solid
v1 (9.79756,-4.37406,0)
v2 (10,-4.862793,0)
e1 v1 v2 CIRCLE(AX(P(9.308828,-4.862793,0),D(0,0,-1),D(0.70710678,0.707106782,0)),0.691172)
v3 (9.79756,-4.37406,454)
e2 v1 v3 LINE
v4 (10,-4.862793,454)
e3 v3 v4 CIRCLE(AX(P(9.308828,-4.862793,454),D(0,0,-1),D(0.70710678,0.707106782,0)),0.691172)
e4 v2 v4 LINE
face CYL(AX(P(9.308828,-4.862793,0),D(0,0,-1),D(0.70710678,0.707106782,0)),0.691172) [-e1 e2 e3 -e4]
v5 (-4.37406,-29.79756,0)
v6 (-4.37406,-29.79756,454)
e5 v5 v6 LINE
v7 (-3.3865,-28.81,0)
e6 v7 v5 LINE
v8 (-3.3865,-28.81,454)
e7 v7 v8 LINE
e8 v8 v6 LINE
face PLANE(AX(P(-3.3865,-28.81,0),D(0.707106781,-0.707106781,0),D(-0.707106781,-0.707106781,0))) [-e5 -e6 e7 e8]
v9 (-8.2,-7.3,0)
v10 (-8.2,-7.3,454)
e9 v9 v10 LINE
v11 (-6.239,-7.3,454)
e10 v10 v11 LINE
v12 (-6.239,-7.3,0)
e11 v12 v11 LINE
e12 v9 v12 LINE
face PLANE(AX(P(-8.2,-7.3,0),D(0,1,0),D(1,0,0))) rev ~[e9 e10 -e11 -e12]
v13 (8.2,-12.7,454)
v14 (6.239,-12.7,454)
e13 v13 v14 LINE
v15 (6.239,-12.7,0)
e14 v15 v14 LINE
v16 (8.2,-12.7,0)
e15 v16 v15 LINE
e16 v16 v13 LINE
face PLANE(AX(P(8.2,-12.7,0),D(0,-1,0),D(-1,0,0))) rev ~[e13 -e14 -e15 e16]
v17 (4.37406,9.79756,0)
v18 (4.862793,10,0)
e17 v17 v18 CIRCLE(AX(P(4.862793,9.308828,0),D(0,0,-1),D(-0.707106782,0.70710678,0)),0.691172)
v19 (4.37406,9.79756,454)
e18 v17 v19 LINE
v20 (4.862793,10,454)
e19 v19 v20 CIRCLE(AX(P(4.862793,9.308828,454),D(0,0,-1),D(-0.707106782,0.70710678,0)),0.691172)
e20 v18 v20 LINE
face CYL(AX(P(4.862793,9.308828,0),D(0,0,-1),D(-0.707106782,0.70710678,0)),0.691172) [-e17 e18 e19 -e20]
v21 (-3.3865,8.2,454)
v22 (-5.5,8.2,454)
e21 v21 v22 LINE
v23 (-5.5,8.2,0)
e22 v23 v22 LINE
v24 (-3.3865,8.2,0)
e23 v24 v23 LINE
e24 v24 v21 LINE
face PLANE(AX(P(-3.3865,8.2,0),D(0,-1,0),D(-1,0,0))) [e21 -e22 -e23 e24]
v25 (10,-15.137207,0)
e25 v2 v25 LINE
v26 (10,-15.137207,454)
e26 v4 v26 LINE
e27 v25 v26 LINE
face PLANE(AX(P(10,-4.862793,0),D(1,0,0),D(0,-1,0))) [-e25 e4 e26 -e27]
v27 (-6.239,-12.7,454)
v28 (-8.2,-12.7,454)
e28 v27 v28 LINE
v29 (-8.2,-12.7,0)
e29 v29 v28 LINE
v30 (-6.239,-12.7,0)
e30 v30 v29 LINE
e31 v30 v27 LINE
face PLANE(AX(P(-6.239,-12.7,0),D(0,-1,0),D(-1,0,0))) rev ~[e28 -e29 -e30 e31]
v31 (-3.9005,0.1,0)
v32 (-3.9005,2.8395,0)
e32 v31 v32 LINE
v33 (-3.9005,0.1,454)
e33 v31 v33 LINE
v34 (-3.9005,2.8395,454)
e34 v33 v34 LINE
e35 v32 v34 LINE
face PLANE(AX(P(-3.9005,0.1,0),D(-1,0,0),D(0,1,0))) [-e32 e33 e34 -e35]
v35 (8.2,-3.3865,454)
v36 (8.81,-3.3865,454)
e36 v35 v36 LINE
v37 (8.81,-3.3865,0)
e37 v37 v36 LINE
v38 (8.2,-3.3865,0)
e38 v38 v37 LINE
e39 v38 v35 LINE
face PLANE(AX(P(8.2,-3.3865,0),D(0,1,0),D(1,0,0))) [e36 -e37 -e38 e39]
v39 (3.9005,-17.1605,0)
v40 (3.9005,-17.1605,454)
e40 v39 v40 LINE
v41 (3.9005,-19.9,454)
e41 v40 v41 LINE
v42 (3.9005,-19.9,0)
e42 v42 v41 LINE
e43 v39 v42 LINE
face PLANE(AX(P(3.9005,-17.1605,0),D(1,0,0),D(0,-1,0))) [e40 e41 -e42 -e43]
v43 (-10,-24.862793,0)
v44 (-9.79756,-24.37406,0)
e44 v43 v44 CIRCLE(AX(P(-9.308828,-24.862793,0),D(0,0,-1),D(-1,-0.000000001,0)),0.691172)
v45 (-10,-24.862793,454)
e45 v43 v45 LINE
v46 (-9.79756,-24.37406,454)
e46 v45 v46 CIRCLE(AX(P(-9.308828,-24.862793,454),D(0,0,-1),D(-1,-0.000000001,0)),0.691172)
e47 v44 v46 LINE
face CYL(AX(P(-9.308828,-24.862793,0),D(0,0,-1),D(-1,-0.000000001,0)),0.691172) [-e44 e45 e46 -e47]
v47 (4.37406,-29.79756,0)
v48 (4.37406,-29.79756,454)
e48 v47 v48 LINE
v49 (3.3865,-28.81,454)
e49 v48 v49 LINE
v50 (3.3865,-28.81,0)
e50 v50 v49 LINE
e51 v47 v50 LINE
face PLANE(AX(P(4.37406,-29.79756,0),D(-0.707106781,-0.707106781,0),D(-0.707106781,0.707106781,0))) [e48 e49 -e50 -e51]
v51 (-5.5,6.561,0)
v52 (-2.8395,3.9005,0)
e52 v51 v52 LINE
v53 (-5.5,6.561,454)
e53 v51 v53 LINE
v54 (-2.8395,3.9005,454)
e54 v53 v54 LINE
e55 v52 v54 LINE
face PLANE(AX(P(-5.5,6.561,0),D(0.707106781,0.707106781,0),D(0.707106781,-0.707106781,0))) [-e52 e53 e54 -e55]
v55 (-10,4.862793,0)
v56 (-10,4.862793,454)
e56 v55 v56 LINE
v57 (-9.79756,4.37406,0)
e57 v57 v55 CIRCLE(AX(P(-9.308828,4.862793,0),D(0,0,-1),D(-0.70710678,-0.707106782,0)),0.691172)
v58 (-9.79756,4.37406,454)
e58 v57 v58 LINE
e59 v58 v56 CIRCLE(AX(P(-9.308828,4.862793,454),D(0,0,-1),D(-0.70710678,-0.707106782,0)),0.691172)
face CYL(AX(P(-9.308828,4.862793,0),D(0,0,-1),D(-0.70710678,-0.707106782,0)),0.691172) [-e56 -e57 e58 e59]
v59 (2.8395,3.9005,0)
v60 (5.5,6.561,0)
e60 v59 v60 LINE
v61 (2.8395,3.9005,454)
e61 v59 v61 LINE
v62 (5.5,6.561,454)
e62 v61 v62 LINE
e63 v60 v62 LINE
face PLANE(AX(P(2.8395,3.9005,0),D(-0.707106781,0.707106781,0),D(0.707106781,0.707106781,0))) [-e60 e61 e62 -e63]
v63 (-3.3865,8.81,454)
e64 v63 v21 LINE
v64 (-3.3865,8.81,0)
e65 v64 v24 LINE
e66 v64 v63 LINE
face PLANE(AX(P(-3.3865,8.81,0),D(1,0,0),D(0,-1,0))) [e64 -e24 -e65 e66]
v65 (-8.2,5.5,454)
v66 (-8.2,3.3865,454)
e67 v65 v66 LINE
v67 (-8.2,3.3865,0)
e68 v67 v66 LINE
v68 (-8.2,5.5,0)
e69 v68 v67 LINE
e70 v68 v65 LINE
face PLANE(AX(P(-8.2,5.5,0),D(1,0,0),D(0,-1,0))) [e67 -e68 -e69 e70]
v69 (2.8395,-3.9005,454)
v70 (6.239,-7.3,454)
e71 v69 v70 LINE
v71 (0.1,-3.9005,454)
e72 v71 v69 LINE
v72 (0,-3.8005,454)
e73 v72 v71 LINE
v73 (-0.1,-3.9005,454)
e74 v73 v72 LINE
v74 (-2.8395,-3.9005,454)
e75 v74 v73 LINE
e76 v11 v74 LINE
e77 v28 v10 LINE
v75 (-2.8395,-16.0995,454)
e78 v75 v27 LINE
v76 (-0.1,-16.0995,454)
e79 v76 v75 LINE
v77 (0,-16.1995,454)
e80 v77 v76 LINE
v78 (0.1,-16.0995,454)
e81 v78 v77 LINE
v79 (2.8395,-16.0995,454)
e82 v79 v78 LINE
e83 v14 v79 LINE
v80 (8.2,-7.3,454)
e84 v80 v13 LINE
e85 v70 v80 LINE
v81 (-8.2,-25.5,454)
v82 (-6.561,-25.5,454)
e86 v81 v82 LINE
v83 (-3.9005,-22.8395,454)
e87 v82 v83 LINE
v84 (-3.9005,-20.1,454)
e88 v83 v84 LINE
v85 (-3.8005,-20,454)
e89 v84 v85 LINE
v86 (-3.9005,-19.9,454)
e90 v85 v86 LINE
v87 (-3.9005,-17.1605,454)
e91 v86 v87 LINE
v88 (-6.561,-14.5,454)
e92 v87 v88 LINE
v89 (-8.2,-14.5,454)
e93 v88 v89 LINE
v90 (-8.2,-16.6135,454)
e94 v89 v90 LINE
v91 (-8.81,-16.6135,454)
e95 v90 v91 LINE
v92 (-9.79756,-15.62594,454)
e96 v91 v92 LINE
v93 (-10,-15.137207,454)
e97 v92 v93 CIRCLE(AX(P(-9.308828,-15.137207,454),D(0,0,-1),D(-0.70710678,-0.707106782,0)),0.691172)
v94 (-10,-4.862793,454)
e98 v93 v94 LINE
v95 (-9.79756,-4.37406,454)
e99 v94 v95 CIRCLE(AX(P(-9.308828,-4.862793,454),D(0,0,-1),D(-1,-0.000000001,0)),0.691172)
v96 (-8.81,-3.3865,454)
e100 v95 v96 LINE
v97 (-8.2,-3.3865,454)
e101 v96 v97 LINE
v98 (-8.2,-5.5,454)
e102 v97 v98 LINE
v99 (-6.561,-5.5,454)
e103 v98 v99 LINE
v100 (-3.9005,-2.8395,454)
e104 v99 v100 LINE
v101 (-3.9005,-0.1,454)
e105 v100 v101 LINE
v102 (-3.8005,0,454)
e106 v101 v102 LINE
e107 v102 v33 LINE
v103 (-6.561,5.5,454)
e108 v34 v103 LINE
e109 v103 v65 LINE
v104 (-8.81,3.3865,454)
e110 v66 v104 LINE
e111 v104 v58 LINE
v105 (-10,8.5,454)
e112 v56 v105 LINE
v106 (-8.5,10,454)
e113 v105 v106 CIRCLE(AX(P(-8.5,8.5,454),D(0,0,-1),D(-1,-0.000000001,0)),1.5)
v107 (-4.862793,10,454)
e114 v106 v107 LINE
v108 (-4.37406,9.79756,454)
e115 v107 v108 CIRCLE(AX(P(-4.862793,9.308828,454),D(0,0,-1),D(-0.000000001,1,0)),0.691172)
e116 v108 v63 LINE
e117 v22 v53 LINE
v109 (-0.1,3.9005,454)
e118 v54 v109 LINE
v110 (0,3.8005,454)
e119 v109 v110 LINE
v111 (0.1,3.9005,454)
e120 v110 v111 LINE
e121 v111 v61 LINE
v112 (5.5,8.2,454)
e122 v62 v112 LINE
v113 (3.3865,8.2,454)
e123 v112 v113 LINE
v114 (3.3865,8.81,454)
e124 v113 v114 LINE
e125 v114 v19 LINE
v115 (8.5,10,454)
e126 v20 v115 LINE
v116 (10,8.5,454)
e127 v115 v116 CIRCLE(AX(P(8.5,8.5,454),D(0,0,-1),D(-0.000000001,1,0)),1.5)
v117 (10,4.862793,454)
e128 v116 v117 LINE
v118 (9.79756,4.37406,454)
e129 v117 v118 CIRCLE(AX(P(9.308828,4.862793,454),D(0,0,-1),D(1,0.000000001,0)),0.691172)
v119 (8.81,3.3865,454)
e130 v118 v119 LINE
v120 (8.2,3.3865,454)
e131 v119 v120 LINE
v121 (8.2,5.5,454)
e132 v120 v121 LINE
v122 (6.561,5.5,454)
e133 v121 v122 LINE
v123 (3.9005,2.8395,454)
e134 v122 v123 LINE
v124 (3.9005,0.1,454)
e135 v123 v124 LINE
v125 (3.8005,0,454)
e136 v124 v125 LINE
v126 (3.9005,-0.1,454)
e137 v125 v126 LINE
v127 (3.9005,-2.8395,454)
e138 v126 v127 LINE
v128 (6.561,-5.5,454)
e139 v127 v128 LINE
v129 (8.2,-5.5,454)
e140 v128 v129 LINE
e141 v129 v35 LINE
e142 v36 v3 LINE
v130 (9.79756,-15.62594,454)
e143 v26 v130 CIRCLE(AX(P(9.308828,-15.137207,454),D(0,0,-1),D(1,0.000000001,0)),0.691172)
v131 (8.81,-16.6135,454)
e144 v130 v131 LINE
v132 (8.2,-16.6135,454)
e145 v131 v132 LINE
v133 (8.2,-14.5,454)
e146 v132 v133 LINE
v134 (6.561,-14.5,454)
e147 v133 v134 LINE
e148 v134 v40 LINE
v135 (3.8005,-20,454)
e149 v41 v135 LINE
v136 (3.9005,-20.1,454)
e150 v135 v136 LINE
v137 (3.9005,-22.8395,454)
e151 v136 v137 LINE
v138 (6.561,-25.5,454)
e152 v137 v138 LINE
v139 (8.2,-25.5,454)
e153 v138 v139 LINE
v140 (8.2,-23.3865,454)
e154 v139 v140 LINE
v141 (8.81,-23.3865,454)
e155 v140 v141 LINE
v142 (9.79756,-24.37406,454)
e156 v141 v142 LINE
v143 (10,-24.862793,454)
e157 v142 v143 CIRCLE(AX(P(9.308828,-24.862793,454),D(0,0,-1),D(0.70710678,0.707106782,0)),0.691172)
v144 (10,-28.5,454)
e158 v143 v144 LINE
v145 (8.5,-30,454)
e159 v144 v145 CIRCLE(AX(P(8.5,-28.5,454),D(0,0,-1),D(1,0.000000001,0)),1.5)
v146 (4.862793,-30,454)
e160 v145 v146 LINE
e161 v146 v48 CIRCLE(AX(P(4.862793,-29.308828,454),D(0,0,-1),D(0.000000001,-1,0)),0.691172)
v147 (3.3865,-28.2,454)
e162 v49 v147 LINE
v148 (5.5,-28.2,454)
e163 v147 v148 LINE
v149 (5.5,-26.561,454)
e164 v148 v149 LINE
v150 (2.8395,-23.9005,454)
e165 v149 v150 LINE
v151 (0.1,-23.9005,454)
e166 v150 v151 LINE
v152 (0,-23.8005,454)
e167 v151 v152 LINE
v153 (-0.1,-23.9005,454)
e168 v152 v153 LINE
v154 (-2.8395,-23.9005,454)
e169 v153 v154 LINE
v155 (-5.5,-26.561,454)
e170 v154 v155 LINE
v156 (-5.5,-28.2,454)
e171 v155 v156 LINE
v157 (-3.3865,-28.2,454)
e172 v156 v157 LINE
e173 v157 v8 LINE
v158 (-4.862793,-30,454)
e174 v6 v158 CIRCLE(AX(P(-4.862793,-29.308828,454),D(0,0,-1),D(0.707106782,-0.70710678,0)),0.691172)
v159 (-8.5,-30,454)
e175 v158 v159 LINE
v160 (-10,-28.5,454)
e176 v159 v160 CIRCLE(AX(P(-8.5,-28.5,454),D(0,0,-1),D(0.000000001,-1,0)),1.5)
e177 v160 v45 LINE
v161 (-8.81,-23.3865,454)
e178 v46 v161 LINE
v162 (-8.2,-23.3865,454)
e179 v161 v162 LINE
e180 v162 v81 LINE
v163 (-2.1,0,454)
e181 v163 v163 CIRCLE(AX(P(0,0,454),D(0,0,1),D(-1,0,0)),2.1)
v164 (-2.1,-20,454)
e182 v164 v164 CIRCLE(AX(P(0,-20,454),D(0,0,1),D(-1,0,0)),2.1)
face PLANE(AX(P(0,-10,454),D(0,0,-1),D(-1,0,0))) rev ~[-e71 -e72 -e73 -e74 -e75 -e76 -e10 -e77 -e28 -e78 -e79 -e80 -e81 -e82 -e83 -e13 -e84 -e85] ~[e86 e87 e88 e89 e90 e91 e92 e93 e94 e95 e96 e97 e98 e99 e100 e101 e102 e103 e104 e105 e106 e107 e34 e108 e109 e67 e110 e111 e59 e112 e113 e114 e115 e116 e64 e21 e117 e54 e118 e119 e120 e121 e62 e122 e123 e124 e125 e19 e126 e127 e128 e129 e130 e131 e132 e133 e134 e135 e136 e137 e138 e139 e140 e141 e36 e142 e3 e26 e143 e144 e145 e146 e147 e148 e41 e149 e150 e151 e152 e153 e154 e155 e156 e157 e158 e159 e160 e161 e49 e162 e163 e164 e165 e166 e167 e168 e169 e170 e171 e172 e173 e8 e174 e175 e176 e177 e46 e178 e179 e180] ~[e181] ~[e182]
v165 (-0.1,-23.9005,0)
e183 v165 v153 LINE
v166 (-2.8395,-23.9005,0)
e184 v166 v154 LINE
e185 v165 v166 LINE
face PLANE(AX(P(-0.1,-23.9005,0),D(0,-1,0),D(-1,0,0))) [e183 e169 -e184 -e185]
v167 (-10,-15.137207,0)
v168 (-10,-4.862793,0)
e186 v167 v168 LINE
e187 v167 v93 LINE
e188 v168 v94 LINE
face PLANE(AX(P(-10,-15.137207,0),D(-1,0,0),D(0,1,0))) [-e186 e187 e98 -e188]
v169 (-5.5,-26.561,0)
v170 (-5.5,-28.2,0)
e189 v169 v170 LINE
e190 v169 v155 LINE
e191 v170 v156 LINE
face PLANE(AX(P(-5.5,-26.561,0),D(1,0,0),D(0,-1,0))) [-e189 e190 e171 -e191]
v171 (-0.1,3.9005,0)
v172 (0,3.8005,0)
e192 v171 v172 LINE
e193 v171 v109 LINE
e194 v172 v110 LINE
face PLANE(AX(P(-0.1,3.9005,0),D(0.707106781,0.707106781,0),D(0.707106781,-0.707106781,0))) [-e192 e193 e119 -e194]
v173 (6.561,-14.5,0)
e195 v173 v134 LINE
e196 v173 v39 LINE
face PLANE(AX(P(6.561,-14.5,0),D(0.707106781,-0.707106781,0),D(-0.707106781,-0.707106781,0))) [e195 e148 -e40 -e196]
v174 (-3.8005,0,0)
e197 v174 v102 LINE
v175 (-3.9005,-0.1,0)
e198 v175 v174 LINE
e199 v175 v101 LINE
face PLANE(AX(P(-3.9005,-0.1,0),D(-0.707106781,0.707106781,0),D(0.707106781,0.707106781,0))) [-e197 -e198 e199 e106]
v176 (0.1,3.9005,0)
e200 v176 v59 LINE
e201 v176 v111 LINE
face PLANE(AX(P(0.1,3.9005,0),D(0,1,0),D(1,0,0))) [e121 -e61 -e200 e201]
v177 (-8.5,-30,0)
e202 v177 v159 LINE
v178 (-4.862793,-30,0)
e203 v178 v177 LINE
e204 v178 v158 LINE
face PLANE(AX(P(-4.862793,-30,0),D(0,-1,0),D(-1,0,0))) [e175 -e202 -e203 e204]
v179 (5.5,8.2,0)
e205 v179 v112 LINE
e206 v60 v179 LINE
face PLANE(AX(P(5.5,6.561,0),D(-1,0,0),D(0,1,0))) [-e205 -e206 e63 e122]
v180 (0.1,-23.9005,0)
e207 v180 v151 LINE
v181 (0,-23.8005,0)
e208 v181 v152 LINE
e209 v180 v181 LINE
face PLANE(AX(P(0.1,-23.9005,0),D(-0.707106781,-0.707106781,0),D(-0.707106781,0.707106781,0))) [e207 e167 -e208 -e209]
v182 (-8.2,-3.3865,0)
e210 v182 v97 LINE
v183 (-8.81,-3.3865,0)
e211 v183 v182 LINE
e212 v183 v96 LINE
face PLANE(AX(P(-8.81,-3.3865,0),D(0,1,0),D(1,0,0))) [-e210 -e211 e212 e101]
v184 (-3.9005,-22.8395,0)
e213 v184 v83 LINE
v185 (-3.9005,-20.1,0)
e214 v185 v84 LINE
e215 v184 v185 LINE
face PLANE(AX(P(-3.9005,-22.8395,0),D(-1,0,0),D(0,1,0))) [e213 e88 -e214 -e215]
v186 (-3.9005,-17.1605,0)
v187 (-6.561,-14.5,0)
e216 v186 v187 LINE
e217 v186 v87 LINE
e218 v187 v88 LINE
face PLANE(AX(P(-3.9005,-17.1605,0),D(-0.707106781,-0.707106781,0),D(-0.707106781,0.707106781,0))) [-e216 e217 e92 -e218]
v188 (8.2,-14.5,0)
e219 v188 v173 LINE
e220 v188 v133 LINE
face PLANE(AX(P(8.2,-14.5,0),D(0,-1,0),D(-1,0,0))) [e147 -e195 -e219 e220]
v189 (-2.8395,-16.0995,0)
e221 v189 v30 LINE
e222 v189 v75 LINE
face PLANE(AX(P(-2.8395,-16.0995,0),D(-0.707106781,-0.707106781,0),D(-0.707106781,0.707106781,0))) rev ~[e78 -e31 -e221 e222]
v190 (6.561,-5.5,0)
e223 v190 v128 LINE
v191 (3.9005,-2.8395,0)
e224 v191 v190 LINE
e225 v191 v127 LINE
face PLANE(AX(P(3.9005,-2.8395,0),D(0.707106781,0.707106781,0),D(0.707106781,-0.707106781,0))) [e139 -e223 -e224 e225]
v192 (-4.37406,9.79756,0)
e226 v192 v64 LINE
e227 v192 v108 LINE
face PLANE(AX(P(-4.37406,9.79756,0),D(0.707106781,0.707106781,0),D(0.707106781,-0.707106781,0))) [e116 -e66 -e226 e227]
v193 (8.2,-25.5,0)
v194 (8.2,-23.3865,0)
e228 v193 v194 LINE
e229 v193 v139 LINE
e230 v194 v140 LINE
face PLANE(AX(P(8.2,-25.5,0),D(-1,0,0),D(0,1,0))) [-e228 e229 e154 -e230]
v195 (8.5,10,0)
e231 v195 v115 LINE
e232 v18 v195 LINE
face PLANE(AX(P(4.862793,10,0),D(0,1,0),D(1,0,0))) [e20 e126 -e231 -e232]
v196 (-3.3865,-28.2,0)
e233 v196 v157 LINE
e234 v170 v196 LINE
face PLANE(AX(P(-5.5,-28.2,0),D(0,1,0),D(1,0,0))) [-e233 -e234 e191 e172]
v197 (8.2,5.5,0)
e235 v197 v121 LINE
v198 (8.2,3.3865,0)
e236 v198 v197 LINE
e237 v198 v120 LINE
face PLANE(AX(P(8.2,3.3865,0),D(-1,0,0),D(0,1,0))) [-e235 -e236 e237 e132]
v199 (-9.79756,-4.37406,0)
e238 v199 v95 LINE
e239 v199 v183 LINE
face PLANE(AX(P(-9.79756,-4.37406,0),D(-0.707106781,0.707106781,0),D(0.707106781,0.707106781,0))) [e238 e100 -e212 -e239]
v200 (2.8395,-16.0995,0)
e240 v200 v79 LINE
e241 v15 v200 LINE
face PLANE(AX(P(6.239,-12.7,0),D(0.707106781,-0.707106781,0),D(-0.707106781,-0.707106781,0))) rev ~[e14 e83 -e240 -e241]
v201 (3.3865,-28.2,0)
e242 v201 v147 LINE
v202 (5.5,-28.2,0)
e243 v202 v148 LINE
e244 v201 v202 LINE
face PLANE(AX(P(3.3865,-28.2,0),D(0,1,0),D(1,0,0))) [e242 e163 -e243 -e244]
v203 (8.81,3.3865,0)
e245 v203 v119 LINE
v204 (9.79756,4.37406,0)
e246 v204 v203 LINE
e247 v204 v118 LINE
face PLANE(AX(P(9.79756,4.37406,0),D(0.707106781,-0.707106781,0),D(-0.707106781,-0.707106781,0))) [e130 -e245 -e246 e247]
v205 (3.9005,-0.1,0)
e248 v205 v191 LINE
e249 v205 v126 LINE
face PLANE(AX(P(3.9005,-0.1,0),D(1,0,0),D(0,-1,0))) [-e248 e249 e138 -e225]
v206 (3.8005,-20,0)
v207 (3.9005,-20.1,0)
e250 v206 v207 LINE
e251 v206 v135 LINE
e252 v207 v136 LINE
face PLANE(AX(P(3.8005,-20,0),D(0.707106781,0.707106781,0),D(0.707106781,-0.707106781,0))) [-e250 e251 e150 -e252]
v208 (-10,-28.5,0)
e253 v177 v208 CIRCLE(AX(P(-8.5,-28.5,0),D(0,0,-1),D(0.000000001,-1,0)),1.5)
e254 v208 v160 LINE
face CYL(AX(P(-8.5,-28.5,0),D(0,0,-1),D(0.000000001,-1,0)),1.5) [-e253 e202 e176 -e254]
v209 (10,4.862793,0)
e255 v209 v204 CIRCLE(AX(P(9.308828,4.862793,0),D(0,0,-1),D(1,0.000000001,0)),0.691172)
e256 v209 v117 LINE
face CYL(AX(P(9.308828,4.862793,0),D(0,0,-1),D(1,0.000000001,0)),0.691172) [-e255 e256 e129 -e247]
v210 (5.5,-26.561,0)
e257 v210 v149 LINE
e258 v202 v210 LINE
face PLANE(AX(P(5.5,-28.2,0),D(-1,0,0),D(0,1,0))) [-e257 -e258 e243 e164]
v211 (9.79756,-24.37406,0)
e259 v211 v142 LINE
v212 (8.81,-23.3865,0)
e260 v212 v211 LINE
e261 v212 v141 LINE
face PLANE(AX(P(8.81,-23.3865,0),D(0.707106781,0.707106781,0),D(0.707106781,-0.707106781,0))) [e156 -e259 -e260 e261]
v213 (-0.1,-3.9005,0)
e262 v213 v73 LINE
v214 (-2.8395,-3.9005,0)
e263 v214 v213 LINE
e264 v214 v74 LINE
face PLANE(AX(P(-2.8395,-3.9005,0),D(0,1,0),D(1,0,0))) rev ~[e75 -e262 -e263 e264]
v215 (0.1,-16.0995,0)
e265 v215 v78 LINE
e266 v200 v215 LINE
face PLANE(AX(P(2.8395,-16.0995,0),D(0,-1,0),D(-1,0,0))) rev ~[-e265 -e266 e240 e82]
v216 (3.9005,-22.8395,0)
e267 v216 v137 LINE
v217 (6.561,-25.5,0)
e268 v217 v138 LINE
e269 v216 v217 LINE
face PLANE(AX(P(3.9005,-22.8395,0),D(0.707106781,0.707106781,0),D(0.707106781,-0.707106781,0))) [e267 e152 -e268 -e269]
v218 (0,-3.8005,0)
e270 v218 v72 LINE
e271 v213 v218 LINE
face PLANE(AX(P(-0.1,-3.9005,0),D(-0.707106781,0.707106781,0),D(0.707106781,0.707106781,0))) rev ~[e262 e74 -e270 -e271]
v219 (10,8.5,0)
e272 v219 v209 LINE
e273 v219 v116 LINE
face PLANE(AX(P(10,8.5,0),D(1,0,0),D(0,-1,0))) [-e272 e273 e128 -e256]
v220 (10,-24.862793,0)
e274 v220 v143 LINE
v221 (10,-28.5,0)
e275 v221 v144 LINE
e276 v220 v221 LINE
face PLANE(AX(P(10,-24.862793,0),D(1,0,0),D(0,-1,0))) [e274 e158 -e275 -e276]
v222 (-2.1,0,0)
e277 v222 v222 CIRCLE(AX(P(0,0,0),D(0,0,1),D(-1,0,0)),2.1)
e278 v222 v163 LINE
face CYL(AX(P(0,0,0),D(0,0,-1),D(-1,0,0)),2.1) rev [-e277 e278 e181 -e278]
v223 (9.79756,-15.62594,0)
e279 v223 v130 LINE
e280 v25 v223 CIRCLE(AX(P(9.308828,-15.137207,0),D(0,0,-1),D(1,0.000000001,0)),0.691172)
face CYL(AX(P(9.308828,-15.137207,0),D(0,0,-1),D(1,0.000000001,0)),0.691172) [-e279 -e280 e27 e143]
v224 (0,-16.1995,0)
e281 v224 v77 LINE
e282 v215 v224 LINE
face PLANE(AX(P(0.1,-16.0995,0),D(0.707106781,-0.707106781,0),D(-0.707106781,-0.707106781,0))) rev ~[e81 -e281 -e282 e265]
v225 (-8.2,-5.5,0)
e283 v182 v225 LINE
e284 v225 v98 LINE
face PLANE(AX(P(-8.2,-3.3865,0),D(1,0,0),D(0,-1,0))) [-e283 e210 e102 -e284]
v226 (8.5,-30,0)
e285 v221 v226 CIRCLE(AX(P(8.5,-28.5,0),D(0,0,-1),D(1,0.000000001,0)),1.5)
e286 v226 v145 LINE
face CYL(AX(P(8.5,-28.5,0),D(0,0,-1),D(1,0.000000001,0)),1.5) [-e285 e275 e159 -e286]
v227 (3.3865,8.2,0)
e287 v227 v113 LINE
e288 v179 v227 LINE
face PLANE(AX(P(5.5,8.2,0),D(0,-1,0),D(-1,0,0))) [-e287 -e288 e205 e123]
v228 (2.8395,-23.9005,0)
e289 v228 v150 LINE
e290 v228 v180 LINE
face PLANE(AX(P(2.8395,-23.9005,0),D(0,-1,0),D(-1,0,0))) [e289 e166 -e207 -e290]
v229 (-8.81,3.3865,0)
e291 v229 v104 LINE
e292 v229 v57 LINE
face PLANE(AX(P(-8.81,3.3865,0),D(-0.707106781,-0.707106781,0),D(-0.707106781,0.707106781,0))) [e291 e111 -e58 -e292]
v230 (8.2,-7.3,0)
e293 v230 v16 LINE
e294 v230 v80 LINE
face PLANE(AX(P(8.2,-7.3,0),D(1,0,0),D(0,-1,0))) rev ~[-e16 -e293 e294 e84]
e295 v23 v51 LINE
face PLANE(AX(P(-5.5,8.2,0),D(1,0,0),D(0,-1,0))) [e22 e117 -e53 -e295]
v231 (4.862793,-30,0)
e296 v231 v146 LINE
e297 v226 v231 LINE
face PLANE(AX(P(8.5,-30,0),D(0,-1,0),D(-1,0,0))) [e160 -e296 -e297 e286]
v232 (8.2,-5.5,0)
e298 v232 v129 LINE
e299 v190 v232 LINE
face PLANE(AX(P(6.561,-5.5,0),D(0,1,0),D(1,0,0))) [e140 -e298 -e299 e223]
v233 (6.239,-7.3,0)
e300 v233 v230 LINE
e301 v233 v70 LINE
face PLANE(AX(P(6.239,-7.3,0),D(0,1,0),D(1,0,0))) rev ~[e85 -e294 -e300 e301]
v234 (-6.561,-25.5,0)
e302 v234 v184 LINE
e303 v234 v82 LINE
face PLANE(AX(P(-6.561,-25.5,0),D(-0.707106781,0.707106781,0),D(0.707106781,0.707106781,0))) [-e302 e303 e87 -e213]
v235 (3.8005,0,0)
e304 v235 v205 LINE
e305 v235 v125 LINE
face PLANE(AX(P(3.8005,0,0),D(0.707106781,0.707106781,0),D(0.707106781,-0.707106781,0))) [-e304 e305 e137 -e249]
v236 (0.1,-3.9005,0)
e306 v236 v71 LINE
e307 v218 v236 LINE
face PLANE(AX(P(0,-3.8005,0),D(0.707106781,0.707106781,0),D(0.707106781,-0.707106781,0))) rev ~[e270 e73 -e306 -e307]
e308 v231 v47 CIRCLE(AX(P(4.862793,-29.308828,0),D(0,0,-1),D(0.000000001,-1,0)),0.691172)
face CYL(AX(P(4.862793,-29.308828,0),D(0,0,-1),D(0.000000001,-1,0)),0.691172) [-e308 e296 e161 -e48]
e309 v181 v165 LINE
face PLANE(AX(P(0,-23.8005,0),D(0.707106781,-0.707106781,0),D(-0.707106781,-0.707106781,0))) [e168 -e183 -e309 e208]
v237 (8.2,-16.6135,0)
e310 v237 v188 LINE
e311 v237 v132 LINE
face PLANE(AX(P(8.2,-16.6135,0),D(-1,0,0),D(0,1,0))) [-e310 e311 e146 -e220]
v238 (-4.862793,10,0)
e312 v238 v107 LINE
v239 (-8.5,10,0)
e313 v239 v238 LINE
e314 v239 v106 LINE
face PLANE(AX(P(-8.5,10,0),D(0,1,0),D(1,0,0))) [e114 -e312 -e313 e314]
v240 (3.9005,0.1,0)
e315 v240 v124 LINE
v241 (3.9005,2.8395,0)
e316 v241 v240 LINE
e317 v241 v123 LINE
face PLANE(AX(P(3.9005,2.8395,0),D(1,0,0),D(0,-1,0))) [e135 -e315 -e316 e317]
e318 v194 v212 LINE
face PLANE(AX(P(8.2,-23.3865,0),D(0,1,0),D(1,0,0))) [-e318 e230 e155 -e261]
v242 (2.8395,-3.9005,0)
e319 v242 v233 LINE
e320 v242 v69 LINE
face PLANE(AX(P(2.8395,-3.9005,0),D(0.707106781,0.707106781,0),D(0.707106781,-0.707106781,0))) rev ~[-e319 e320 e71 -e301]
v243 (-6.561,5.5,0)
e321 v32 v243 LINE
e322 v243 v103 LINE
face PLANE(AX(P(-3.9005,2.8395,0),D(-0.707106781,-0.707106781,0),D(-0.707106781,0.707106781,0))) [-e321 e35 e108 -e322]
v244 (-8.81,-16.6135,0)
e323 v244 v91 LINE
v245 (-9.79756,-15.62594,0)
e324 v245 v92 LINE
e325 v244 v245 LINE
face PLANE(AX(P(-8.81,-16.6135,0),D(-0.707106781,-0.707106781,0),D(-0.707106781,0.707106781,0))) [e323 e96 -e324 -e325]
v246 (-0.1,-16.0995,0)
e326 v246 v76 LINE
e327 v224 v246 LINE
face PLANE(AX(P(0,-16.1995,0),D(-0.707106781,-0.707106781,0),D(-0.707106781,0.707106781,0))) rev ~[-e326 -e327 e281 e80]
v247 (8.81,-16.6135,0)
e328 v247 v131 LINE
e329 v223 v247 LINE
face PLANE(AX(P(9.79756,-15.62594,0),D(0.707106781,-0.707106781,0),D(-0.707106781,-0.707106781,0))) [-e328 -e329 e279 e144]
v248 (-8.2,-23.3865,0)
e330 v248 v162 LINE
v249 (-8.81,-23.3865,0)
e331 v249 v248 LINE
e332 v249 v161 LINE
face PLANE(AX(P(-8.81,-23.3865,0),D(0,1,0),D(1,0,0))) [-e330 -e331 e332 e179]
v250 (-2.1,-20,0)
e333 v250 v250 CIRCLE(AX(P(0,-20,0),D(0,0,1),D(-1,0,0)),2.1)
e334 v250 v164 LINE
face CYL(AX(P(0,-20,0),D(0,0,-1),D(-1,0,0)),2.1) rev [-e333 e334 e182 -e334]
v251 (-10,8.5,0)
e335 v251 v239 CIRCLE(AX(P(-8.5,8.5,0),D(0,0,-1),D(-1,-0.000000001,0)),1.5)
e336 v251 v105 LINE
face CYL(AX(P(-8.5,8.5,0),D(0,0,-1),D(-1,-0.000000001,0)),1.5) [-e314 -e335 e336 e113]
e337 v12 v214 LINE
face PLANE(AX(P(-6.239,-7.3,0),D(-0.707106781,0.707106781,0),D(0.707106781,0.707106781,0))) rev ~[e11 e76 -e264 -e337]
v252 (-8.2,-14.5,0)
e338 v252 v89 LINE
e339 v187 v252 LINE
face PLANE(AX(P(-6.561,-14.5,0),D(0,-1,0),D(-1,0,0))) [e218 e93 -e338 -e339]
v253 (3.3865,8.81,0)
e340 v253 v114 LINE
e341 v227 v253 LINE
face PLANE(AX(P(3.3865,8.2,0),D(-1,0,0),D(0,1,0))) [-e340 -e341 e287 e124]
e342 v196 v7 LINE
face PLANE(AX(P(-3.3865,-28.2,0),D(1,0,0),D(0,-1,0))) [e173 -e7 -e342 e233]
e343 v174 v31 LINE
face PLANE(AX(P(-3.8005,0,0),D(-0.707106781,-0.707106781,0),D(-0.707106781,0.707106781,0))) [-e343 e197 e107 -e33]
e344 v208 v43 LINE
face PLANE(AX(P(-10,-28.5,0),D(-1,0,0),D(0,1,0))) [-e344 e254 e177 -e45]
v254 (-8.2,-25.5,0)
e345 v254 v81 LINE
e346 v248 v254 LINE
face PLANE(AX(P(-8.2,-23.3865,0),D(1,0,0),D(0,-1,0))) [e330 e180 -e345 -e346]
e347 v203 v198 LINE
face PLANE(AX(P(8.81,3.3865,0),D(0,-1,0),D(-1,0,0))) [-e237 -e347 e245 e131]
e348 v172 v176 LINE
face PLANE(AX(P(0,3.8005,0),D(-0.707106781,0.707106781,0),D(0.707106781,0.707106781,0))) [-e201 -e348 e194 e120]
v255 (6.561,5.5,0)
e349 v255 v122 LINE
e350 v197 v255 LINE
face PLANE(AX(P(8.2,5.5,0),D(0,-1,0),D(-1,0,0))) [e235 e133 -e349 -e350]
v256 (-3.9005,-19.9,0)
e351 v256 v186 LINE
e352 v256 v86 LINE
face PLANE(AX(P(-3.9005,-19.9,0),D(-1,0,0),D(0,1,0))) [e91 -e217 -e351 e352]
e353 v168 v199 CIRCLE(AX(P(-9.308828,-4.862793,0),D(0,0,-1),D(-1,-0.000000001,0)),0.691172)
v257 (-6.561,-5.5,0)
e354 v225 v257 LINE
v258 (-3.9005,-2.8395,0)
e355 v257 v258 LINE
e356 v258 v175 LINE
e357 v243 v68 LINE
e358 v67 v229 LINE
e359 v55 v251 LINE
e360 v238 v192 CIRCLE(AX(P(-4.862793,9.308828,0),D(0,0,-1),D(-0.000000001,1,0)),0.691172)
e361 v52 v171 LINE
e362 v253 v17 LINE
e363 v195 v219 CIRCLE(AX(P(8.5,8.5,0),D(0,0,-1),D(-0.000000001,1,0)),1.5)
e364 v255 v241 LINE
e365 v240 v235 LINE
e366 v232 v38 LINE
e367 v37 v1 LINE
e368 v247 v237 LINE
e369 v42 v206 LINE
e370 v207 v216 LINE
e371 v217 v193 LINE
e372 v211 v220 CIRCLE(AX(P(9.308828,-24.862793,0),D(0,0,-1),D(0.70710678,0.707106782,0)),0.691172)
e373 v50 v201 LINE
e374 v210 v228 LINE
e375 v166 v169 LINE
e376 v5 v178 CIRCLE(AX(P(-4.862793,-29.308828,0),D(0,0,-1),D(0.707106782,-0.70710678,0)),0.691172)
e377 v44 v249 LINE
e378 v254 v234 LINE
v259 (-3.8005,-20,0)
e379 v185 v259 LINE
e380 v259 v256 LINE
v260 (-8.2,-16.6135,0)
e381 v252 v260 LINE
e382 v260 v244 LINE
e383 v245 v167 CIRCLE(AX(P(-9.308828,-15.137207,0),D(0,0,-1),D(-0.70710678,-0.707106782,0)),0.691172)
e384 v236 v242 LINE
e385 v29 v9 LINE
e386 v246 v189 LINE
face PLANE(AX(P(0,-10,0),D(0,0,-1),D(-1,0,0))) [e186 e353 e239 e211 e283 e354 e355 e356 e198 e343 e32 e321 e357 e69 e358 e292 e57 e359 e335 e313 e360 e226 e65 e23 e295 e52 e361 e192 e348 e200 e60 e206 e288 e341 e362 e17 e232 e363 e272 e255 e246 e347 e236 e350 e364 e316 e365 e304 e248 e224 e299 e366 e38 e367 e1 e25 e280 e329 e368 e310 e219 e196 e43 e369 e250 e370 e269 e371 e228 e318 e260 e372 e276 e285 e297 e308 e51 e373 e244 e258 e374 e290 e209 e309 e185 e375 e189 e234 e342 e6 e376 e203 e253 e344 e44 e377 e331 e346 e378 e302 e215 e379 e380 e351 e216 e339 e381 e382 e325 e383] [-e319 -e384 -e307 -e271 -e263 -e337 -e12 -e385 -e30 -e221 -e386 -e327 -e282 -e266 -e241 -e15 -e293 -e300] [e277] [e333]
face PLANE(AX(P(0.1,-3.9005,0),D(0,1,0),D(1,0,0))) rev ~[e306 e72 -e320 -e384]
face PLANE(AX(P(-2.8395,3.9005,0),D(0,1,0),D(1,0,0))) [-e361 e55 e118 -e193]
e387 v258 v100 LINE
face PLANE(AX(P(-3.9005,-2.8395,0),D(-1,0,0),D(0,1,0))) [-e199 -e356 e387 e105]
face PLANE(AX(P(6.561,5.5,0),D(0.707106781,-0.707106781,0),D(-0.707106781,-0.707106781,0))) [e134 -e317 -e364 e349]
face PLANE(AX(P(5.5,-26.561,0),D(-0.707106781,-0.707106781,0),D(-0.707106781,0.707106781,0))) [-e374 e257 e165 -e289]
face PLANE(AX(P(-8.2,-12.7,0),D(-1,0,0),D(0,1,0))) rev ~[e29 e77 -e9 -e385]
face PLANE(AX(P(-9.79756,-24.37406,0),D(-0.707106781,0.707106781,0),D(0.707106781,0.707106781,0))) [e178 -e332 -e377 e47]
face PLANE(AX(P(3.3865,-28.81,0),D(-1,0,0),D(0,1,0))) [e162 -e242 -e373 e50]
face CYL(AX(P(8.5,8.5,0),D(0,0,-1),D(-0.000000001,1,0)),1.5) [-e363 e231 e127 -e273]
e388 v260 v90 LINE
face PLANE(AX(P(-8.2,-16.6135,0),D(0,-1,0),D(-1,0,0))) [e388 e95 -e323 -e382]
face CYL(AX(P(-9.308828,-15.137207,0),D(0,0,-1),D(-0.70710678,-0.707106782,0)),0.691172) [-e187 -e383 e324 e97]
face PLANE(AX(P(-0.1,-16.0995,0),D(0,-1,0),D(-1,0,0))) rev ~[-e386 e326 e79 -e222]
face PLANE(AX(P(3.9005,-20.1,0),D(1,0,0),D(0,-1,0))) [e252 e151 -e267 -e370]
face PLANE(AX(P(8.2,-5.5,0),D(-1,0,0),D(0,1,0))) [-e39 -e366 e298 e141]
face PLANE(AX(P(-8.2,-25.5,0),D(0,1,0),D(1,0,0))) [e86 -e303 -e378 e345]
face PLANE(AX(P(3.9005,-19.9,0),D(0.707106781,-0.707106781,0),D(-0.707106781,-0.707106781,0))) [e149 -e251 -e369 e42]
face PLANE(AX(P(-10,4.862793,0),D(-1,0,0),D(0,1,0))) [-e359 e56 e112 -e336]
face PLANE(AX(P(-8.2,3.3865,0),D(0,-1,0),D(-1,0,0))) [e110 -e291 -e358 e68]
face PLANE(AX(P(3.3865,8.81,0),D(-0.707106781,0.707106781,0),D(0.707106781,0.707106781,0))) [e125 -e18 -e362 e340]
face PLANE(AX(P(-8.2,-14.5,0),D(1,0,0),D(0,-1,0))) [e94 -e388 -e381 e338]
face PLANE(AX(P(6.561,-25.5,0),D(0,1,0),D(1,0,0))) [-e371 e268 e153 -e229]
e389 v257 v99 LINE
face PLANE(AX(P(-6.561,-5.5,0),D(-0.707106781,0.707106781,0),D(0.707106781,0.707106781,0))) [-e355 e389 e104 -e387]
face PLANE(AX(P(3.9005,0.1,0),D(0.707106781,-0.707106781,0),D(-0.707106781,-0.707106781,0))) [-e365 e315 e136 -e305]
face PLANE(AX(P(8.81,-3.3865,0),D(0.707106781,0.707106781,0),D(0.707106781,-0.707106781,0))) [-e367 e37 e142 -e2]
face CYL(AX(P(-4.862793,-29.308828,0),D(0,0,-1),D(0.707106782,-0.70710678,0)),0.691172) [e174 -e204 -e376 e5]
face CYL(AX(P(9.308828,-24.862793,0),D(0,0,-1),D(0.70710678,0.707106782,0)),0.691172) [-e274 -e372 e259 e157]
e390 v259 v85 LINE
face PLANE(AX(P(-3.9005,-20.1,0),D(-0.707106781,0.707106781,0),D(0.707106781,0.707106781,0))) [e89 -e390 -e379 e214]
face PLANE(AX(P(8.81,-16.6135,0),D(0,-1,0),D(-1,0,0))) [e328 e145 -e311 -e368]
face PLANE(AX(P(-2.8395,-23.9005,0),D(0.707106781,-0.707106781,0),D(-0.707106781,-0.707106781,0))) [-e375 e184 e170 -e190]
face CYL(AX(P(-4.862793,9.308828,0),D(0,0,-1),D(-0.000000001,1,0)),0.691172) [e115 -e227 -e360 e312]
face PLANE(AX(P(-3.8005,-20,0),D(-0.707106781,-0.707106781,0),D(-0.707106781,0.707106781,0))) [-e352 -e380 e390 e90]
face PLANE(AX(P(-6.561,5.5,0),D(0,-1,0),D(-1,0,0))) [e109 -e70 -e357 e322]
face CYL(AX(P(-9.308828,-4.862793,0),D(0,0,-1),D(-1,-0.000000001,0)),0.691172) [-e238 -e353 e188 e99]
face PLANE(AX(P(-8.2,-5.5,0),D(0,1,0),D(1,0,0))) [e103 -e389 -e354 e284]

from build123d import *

# Parameters (mm, degrees)
SKETCH1_R           = 2.1
BOSS_EXTRUDE2_DEPTH = 454


with BuildPart() as part:
    # Sketch1 → Boss-Extrude2 (new body)
    with BuildSketch(Plane.XY):
        with BuildLine():
            Line((-8.5, 10), (-4.862792737, 10))
            ThreePointArc((-4.862792737, 10), (-4.598292737, 9.947387679), (-4.374060464, 9.797560464))
            Line((-4.374060464, 9.797560464), (-3.3865, 8.81))
            Line((-3.3865, 8.81), (-3.3865, 8.2))
            Line((-3.3865, 8.2), (-5.5, 8.2))
            Line((-5.5, 8.2), (-5.5, 6.561))
            Line((-5.5, 6.561), (-2.8395, 3.9005))
            Line((-2.8395, 3.9005), (-0.1, 3.9005))
            Line((-0.1, 3.9005), (0, 3.8005))
            Line((0, 3.8005), (0.1, 3.9005))
            Line((0.1, 3.9005), (2.8395, 3.9005))
            Line((2.8395, 3.9005), (5.5, 6.561))
            Line((5.5, 6.561), (5.5, 8.2))
            Line((5.5, 8.2), (3.3865, 8.2))
            Line((3.3865, 8.2), (3.3865, 8.81))
            Line((3.3865, 8.81), (4.374060464, 9.797560464))
            ThreePointArc((4.374060464, 9.797560464), (4.598292737, 9.947387679), (4.862792737, 10))
            Line((4.862792737, 10), (8.5, 10))
            ThreePointArc((8.5, 10), (9.560660172, 9.560660172), (10, 8.5))
            Line((10, 8.5), (10, 4.862792737))
            ThreePointArc((10, 4.862792737), (9.947387679, 4.598292737), (9.797560464, 4.374060464))
            Line((9.797560464, 4.374060464), (8.81, 3.3865))
            Line((8.81, 3.3865), (8.2, 3.3865))
            Line((8.2, 3.3865), (8.2, 5.5))
            Line((8.2, 5.5), (6.561, 5.5))
            Line((6.561, 5.5), (3.9005, 2.8395))
            Line((3.9005, 2.8395), (3.9005, 0.1))
            Line((3.9005, 0.1), (3.8005, 0))
            Line((3.8005, 0), (3.9005, -0.1))
            Line((3.9005, -0.1), (3.9005, -2.8395))
            Line((3.9005, -2.8395), (6.561, -5.5))
            Line((6.561, -5.5), (8.2, -5.5))
            Line((8.2, -5.5), (8.2, -3.3865))
            Line((8.2, -3.3865), (8.81, -3.3865))
            Line((8.81, -3.3865), (9.797560464, -4.374060464))
            ThreePointArc((9.797560464, -4.374060464), (9.947387679, -4.598292737), (10, -4.862792737))
            Line((10, -4.862792737), (10, -15.137207263))
            ThreePointArc((10, -15.137207263), (9.947387679, -15.401707263), (9.797560464, -15.625939536))
            Line((9.797560464, -15.625939536), (8.81, -16.6135))
            Line((8.81, -16.6135), (8.2, -16.6135))
            Line((8.2, -16.6135), (8.2, -14.5))
            Line((8.2, -14.5), (6.561, -14.5))
            Line((6.561, -14.5), (3.9005, -17.1605))
            Line((3.9005, -17.1605), (3.9005, -19.9))
            Line((3.9005, -19.9), (3.8005, -20))
            Line((3.8005, -20), (3.9005, -20.1))
            Line((3.9005, -20.1), (3.9005, -22.8395))
            Line((3.9005, -22.8395), (6.561, -25.5))
            Line((6.561, -25.5), (8.2, -25.5))
            Line((8.2, -25.5), (8.2, -23.3865))
            Line((8.2, -23.3865), (8.81, -23.3865))
            Line((8.81, -23.3865), (9.797560464, -24.374060464))
            ThreePointArc((9.797560464, -24.374060464), (9.947387679, -24.598292737), (10, -24.862792737))
            Line((10, -24.862792737), (10, -28.5))
            ThreePointArc((10, -28.5), (9.560660172, -29.560660172), (8.5, -30))
            Line((8.5, -30), (4.862792737, -30))
            ThreePointArc((4.862792737, -30), (4.598292737, -29.947387679), (4.374060464, -29.797560464))
            Line((4.374060464, -29.797560464), (3.3865, -28.81))
            Line((3.3865, -28.81), (3.3865, -28.2))
            Line((3.3865, -28.2), (5.5, -28.2))
            Line((5.5, -28.2), (5.5, -26.561))
            Line((5.5, -26.561), (2.8395, -23.9005))
            Line((2.8395, -23.9005), (0.1, -23.9005))
            Line((0.1, -23.9005), (0, -23.8005))
            Line((0, -23.8005), (-0.1, -23.9005))
            Line((-0.1, -23.9005), (-2.8395, -23.9005))
            Line((-2.8395, -23.9005), (-5.5, -26.561))
            Line((-5.5, -26.561), (-5.5, -28.2))
            Line((-5.5, -28.2), (-3.3865, -28.2))
            Line((-3.3865, -28.2), (-3.3865, -28.81))
            Line((-3.3865, -28.81), (-4.374060464, -29.797560464))
            ThreePointArc((-4.374060464, -29.797560464), (-4.598292737, -29.947387679), (-4.862792737, -30))
            Line((-4.862792737, -30), (-8.5, -30))
            ThreePointArc((-8.5, -30), (-9.560660172, -29.560660172), (-10, -28.5))
            Line((-10, -28.5), (-10, -24.862792737))
            ThreePointArc((-10, -24.862792737), (-9.947387679, -24.598292737), (-9.797560464, -24.374060464))
            Line((-9.797560464, -24.374060464), (-8.81, -23.3865))
            Line((-8.81, -23.3865), (-8.2, -23.3865))
            Line((-8.2, -23.3865), (-8.2, -25.5))
            Line((-8.2, -25.5), (-6.561, -25.5))
            Line((-6.561, -25.5), (-3.9005, -22.8395))
            Line((-3.9005, -22.8395), (-3.9005, -20.1))
            Line((-3.9005, -20.1), (-3.8005, -20))
            Line((-3.8005, -20), (-3.9005, -19.9))
            Line((-3.9005, -19.9), (-3.9005, -17.1605))
            Line((-3.9005, -17.1605), (-6.561, -14.5))
            Line((-6.561, -14.5), (-8.2, -14.5))
            Line((-8.2, -14.5), (-8.2, -16.6135))
            Line((-8.2, -16.6135), (-8.81, -16.6135))
            Line((-8.81, -16.6135), (-9.797560464, -15.625939536))
            ThreePointArc((-9.797560464, -15.625939536), (-9.947387679, -15.401707263), (-10, -15.137207263))
            Line((-10, -15.137207263), (-10, -4.862792737))
            ThreePointArc((-10, -4.862792737), (-9.947387679, -4.598292737), (-9.797560464, -4.374060464))
            Line((-9.797560464, -4.374060464), (-8.81, -3.3865))
            Line((-8.81, -3.3865), (-8.2, -3.3865))
            Line((-8.2, -3.3865), (-8.2, -5.5))
            Line((-8.2, -5.5), (-6.561, -5.5))
            Line((-6.561, -5.5), (-3.9005, -2.8395))
            Line((-3.9005, -2.8395), (-3.9005, -0.1))
            Line((-3.9005, -0.1), (-3.8005, 0))
            Line((-3.8005, 0), (-3.9005, 0.1))
            Line((-3.9005, 0.1), (-3.9005, 2.8395))
            Line((-3.9005, 2.8395), (-6.561, 5.5))
            Line((-6.561, 5.5), (-8.2, 5.5))
            Line((-8.2, 5.5), (-8.2, 3.3865))
            Line((-8.2, 3.3865), (-8.81, 3.3865))
            Line((-8.81, 3.3865), (-9.797560464, 4.374060464))
            ThreePointArc((-9.797560464, 4.374060464), (-9.947387679, 4.598292737), (-10, 4.862792737))
            Line((-10, 4.862792737), (-10, 8.5))
            ThreePointArc((-10, 8.5), (-9.560660172, 9.560660172), (-8.5, 10))
        make_face()
        with Locations(Location((0, 0, 0), (0, 0, 180))):
            Circle(SKETCH1_R, mode=Mode.SUBTRACT)
        with Locations(Location((0, -20, 0), (0, 0, 180))):
            Circle(SKETCH1_R, mode=Mode.SUBTRACT)
        Polygon((-8.2, -12.7), (-8.2, -7.3), (-6.239, -7.3), (-5.5, -6.561), (-2.8395, -3.9005), (-0.1, -3.9005), (0, -3.8005), (0.1, -3.9005), (2.8395, -3.9005), (5.5, -6.561), (6.239, -7.3), (8.2, -7.3), (8.2, -12.7), (6.239, -12.7), (5.5, -13.439), (2.8395, -16.0995), (0.1, -16.0995), (0, -16.1995), (-0.1, -16.0995), (-2.8395, -16.0995), (-5.5, -13.439), (-6.239, -12.7), align=None, mode=Mode.SUBTRACT)
    extrude(amount=BOSS_EXTRUDE2_DEPTH)


solid = part.part
